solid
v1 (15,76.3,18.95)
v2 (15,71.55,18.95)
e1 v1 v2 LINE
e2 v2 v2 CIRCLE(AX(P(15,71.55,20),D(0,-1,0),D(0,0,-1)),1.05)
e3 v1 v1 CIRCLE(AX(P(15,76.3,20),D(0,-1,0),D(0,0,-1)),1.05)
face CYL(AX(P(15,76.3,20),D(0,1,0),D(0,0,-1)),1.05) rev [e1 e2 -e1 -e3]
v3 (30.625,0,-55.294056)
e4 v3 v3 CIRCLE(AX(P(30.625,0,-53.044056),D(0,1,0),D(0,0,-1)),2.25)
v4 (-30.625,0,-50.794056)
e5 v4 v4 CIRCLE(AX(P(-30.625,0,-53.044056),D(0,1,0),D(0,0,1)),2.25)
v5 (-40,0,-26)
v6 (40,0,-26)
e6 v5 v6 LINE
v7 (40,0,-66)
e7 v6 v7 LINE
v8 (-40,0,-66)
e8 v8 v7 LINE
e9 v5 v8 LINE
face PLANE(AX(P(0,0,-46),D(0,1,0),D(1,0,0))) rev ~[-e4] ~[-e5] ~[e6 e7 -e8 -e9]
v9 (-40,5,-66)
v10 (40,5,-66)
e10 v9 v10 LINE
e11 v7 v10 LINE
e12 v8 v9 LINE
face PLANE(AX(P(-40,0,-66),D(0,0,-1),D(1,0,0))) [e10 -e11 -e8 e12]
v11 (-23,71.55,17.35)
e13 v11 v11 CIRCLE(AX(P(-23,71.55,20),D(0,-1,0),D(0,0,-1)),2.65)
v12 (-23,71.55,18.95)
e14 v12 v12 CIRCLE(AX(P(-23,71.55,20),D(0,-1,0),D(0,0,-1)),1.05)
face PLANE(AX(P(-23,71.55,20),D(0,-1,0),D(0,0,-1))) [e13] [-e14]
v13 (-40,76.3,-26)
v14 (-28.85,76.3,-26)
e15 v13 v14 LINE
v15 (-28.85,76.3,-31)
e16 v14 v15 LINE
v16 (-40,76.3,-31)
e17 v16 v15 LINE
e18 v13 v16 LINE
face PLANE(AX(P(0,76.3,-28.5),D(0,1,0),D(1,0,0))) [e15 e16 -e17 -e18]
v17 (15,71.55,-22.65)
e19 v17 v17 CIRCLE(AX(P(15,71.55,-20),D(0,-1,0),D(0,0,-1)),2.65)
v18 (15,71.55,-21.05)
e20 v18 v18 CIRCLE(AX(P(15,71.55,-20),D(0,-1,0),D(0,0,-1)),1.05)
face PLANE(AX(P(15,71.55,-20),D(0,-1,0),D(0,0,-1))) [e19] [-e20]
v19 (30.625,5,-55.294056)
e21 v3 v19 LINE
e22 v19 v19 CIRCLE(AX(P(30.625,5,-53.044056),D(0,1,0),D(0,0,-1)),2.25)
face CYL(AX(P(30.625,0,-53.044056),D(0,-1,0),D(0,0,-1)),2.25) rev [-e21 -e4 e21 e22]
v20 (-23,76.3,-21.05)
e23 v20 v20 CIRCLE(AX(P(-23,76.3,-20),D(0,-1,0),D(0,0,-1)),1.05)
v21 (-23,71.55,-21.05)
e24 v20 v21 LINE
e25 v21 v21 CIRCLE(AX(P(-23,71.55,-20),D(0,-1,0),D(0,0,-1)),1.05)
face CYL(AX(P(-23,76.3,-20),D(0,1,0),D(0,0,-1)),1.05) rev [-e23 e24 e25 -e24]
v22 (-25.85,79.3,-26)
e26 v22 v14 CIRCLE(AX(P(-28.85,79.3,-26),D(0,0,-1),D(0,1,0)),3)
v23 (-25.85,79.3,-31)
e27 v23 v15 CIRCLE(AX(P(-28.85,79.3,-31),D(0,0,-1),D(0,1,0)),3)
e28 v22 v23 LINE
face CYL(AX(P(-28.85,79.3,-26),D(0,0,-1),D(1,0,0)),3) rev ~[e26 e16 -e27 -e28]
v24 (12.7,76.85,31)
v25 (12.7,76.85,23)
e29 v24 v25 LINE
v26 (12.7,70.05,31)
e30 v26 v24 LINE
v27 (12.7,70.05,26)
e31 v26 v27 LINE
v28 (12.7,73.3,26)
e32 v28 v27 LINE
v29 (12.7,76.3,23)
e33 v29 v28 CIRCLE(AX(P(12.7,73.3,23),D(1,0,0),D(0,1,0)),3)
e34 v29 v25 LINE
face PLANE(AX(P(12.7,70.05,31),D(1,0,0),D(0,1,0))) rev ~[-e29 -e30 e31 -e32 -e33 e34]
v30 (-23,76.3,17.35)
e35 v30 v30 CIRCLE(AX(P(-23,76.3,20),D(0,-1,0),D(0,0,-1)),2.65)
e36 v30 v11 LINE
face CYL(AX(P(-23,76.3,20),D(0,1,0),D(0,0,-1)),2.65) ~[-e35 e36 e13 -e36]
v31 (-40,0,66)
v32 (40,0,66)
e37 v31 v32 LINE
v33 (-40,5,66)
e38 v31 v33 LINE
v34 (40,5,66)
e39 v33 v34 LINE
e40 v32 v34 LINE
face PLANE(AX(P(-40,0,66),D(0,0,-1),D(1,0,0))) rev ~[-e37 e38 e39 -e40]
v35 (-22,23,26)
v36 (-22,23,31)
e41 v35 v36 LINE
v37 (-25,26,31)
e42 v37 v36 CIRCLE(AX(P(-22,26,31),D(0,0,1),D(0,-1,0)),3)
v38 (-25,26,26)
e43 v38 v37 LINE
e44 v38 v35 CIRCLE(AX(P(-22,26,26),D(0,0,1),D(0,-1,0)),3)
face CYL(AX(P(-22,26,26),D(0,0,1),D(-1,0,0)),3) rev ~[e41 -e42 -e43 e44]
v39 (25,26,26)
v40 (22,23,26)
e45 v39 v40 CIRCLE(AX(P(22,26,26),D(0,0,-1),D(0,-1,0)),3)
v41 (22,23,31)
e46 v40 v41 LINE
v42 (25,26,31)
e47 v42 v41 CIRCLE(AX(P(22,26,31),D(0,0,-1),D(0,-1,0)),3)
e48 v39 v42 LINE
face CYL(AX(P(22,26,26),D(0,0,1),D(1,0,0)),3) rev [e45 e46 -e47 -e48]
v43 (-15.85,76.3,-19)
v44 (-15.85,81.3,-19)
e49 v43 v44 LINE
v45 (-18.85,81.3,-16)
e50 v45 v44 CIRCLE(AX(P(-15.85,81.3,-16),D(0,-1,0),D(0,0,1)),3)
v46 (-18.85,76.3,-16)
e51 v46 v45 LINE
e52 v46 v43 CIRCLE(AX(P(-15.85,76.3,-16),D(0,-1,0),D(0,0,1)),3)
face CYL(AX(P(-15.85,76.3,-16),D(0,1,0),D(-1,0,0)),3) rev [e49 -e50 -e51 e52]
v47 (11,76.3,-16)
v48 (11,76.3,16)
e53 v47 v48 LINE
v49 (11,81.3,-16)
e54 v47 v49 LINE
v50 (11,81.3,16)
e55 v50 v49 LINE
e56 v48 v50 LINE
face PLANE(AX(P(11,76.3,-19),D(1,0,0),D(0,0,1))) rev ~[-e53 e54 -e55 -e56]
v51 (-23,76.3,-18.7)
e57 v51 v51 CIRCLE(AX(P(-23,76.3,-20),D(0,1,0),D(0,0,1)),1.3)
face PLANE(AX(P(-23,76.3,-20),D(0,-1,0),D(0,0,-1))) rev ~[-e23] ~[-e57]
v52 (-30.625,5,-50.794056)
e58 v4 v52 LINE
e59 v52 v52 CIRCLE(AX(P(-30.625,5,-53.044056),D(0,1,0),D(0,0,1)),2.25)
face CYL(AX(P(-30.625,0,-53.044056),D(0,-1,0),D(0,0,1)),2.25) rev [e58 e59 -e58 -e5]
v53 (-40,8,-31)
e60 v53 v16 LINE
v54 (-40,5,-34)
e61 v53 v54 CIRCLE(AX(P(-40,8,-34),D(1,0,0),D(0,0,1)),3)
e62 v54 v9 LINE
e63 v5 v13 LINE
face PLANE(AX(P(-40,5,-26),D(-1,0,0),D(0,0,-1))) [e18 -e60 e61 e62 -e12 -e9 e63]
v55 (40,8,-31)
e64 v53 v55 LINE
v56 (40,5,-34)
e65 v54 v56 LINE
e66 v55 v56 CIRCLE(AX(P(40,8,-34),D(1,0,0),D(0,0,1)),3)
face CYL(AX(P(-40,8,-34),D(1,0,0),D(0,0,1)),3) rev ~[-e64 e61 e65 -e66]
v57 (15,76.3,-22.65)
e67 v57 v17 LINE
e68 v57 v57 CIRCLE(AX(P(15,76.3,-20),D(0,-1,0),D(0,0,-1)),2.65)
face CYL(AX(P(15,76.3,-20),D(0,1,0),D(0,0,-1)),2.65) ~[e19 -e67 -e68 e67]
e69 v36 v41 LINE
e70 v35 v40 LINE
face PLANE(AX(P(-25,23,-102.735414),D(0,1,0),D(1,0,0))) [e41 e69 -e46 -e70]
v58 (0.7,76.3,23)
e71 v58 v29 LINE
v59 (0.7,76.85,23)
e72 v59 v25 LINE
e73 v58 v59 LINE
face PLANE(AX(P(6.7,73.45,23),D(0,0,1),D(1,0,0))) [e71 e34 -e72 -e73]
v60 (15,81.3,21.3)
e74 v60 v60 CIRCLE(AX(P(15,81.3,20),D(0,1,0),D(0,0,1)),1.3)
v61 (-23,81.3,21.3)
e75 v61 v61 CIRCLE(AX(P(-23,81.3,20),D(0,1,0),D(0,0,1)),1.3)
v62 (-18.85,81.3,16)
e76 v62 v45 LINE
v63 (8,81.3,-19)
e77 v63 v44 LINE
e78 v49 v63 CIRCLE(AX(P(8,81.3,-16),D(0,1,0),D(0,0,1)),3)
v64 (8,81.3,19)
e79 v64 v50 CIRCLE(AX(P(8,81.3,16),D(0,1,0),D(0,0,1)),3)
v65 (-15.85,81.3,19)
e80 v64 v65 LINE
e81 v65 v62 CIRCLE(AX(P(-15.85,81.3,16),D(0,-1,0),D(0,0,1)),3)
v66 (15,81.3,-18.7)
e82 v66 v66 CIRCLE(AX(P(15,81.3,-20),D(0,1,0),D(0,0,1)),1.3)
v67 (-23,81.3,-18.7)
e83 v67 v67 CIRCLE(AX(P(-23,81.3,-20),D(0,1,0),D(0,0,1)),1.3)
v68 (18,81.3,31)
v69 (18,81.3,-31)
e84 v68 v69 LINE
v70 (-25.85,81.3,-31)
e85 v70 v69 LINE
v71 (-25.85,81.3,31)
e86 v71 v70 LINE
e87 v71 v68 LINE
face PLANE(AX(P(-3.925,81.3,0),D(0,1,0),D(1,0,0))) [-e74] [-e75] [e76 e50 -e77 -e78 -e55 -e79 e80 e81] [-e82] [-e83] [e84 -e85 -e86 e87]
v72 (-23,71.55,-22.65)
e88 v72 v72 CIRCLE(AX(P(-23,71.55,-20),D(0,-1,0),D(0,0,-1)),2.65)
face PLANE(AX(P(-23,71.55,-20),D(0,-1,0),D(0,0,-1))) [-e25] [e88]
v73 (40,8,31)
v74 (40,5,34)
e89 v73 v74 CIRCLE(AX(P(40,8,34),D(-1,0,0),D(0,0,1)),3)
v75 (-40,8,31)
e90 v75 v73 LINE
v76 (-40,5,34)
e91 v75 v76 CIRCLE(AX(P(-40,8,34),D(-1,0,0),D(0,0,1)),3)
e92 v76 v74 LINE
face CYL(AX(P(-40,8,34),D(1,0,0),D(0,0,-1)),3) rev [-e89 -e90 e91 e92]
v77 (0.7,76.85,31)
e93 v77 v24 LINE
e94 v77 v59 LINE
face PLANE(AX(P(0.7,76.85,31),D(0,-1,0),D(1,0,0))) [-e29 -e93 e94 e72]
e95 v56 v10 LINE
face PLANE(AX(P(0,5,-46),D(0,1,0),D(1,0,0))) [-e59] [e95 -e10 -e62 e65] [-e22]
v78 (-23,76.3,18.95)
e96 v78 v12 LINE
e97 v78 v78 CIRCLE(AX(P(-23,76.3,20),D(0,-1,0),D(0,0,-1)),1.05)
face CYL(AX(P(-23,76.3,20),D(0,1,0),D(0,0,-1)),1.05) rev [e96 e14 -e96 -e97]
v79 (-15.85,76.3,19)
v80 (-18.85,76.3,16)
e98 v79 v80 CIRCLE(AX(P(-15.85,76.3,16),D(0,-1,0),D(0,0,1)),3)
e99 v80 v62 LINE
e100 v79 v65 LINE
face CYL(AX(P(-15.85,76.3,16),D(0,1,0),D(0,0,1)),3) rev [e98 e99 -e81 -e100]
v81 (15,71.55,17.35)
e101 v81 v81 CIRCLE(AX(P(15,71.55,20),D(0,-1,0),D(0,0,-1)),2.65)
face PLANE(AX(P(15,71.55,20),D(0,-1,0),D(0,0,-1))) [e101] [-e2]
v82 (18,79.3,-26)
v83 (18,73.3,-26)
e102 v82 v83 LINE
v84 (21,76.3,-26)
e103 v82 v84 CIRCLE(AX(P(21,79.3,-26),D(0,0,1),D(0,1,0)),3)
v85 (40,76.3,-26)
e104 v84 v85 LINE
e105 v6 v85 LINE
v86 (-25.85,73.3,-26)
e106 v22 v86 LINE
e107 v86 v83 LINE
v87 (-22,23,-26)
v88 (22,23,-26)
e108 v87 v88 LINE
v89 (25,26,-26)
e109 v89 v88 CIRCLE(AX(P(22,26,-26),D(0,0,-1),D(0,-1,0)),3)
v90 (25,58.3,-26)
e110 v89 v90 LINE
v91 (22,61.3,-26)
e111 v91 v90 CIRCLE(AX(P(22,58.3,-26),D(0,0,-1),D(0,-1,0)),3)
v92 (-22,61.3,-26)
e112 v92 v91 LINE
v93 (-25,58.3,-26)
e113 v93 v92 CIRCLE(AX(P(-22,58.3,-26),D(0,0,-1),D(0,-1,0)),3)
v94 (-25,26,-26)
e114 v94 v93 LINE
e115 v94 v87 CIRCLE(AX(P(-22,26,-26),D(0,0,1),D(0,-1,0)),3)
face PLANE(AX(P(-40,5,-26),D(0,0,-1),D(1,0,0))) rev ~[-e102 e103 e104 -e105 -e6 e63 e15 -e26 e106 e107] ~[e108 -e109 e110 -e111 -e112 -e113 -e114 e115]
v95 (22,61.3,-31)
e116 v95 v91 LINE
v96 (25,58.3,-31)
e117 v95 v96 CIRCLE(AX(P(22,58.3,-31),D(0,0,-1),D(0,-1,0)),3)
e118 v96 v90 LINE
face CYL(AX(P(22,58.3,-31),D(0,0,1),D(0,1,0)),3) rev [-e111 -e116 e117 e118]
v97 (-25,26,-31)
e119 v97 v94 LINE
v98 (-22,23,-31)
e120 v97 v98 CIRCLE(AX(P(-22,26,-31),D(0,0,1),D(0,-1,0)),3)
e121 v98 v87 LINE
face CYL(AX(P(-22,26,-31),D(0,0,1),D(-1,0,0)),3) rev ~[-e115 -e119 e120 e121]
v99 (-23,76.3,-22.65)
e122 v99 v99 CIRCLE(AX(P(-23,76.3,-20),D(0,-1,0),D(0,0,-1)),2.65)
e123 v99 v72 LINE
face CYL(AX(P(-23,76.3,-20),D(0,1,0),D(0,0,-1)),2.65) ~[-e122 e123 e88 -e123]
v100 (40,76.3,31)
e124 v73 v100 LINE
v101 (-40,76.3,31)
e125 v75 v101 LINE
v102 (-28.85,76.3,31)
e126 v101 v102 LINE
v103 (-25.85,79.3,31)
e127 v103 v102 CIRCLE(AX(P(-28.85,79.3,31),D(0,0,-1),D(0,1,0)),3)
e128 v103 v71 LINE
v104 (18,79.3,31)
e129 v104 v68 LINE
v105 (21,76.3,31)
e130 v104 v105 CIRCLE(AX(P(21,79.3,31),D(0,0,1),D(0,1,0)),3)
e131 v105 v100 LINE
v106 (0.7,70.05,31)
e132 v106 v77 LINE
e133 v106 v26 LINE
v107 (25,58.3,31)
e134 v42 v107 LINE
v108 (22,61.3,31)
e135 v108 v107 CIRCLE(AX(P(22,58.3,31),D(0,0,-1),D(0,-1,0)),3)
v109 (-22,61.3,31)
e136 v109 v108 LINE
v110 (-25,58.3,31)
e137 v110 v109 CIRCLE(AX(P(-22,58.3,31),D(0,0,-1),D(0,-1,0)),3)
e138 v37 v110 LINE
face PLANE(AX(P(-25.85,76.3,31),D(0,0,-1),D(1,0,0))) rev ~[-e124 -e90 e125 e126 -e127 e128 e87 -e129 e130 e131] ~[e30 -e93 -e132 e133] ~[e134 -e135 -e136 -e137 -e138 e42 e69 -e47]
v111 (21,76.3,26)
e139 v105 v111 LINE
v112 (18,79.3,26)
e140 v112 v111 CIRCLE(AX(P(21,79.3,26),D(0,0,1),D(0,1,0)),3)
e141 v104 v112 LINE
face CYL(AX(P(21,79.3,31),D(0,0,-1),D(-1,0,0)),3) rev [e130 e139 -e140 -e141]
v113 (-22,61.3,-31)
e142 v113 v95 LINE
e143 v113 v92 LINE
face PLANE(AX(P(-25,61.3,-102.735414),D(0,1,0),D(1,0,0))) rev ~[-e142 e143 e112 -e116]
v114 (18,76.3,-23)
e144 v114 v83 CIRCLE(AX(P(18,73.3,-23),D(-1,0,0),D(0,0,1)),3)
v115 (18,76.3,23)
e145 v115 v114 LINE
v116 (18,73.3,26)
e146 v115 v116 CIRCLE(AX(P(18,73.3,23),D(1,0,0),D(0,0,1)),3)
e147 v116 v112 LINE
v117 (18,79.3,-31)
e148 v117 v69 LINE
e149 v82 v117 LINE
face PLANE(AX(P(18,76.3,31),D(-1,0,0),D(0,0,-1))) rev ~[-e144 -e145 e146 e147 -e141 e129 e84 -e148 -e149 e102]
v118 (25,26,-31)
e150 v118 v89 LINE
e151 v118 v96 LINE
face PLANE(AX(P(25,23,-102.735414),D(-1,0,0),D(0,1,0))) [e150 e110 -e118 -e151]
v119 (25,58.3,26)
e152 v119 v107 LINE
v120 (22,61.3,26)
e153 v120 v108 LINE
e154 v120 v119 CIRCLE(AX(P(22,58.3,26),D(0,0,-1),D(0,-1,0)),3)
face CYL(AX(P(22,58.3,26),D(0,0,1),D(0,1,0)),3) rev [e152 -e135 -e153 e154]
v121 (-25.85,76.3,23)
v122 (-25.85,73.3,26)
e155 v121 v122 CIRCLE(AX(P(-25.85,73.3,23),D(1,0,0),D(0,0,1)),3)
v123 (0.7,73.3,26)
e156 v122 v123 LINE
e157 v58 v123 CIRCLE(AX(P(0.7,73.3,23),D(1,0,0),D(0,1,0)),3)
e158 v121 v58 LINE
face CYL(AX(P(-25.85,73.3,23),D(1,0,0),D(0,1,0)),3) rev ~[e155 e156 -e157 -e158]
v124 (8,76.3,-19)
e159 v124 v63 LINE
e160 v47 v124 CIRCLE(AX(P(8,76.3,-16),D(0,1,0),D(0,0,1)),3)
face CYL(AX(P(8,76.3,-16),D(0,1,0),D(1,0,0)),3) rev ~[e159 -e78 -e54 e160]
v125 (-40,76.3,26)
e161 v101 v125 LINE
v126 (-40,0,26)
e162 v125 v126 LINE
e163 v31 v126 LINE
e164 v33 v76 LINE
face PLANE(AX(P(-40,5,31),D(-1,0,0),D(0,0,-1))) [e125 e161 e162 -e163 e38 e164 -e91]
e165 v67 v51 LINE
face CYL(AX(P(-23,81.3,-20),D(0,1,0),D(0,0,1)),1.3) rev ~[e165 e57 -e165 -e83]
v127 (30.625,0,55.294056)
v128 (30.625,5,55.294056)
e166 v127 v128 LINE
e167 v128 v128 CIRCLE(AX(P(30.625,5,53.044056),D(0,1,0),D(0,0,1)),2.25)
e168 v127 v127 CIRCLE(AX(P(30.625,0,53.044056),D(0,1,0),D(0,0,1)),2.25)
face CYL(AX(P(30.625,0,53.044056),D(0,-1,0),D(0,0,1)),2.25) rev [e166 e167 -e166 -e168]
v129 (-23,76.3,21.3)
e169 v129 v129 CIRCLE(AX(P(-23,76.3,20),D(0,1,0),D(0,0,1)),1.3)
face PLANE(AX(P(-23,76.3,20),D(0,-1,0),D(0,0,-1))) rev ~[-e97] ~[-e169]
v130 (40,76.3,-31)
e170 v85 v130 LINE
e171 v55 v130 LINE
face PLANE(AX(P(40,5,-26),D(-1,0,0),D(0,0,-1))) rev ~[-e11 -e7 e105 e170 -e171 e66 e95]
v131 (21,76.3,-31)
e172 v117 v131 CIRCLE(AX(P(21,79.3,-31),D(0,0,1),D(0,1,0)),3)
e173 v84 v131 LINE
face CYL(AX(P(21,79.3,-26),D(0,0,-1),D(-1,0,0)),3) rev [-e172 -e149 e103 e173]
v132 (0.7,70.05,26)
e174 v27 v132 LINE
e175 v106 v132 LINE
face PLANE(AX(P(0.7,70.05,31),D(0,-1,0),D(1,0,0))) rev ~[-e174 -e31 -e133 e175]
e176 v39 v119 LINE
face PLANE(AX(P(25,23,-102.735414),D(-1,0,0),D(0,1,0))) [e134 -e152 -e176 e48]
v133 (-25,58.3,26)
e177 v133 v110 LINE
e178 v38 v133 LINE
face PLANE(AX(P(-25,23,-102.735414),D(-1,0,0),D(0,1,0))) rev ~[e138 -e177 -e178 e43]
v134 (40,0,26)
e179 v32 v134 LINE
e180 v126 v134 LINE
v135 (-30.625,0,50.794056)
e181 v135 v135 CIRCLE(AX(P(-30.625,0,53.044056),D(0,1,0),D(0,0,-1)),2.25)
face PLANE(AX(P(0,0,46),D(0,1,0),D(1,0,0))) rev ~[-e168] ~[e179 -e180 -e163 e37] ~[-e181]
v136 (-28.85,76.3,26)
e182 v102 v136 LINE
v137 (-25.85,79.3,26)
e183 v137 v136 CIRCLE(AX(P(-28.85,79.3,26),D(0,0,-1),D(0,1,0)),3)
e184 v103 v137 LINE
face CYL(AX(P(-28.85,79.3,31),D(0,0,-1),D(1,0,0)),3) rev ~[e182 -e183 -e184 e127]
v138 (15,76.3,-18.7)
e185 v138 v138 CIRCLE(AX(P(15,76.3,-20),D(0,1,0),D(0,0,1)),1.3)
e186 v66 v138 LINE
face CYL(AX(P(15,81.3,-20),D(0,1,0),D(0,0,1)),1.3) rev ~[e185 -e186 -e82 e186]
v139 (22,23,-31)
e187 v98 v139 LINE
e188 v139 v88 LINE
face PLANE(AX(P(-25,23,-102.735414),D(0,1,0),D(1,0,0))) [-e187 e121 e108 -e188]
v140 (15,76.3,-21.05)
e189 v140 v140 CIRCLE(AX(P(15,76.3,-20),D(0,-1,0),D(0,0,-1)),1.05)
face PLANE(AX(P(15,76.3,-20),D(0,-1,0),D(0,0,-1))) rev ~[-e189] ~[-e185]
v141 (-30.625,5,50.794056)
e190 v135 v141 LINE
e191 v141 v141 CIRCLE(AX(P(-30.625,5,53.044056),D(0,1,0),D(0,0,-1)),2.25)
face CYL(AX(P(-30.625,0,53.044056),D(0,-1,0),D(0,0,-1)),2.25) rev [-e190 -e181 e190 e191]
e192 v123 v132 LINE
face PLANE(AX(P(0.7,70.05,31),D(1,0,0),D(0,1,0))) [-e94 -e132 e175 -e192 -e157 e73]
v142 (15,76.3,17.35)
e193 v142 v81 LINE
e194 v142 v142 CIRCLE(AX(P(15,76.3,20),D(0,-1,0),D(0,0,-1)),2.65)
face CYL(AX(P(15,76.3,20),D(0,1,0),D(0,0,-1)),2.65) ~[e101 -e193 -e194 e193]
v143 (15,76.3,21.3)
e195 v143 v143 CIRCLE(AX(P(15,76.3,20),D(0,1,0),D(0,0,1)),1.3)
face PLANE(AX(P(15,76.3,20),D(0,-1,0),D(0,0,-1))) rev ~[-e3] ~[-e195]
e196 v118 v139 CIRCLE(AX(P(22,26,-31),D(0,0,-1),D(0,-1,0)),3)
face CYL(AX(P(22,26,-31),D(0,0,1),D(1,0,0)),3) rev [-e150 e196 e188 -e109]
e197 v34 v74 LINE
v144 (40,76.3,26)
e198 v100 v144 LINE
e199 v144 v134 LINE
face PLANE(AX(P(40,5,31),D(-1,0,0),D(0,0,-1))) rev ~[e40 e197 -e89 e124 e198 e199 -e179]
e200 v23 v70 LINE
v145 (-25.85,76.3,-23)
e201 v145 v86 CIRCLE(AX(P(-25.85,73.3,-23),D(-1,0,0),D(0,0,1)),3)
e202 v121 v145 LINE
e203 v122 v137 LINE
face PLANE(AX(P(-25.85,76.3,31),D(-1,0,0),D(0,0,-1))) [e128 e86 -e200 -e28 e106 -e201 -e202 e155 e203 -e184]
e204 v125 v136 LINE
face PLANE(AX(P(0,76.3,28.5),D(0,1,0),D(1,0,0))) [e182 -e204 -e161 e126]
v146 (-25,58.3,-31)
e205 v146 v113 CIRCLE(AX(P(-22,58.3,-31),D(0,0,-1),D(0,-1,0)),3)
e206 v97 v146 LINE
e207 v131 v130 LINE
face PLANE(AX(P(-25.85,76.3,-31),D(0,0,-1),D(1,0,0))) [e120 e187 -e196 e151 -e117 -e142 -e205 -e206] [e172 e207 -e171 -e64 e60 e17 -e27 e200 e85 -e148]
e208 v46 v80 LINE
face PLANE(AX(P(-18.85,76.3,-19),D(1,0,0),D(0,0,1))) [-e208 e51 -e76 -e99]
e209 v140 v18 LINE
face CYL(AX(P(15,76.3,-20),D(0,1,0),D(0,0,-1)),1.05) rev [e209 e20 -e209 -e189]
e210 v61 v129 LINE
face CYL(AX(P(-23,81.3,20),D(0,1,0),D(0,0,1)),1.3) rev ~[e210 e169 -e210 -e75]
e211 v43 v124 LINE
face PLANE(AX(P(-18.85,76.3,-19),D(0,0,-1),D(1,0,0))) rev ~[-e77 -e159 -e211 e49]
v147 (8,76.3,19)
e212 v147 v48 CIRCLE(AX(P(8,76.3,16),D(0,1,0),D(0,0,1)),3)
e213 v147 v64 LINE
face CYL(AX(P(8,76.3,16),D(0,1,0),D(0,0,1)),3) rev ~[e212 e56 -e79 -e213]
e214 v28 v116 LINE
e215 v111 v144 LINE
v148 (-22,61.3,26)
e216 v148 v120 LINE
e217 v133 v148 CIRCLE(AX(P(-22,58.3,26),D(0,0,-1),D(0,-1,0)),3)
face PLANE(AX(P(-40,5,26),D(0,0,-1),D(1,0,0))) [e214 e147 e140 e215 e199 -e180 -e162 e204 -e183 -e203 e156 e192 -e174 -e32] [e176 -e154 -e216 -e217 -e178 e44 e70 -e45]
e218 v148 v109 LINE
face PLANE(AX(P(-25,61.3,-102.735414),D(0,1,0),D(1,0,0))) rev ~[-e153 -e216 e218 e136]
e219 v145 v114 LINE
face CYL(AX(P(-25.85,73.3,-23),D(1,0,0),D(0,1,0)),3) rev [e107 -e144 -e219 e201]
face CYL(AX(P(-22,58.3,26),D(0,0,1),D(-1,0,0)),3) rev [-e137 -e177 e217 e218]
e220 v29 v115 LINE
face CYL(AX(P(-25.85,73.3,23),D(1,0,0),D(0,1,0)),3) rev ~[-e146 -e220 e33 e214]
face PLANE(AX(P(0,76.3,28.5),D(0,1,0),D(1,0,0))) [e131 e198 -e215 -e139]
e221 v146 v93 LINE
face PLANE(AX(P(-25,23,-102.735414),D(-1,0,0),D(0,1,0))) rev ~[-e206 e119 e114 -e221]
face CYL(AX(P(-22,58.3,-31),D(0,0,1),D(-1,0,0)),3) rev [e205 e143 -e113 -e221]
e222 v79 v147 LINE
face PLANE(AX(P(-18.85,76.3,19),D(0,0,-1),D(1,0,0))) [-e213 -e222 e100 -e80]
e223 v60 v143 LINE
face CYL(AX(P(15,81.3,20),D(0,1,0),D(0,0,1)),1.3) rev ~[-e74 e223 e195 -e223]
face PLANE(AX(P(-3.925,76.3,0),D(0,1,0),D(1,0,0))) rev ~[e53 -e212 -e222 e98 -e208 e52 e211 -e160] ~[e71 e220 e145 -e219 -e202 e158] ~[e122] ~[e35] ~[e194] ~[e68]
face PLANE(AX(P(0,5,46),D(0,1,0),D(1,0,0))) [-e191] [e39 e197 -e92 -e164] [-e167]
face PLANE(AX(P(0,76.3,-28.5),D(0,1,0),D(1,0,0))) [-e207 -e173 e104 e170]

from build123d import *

# Parameters (mm, degrees)
SKETCH1_W               = 80
SKETCH1_H               = 40
SKETCH1_R               = 2.25
BOSS_EXTRUDE1_DEPTH     = 5
BOSS_EXTRUDE1_2_DEPTH   = 5
SKETCH2_W               = 80
SKETCH2_H               = 5
BOSS_EXTRUDE2_DEPTH     = 71.3
SKETCH3_W               = 43.85
SKETCH3_H               = 62
BOSS_EXTRUDE3_DEPTH     = 5
SKETCH5_W               = 29.85
SKETCH5_H               = 38
CUT_EXTRUDE2_DEPTH      = 10
CUT_EXTRUDE1_REACH      = 114.097
SKETCH4_R               = 1.3
FILLET1_R               = 3
FILLET2_R               = 3
CUT_EXTRUDE3_DEPTH      = 133.735413511
CUT_EXTRUDE3_DEPTH_BACK = 133.735413511
SKETCH6_W               = 50
SKETCH6_H               = 38.3
FILLET3_R               = 3
SKETCH9_R               = 2.65
SKETCH9_R_2             = 1.05
BOSS_EXTRUDE5_DEPTH     = 4.75
SKETCH10_W              = 12
SKETCH10_H              = 6.8
CUT_EXTRUDE4_DEPTH      = 8


with BuildPart() as part:
    # Sketch1 → Boss-Extrude1 (new body)
    with BuildSketch(Plane(origin=(0, 0, 0), x_dir=(1, 0, 0), z_dir=(0, 1, 0))):
        with Locations((0, 46)):
            Rectangle(SKETCH1_W, SKETCH1_H)
        with Locations(Location((-30.625, 53.044055982, 0), (0, 0, 270))):
            Circle(SKETCH1_R, mode=Mode.SUBTRACT)
        with Locations(Location((30.625, 53.044055982, 0), (0, 0, 90))):
            Circle(SKETCH1_R, mode=Mode.SUBTRACT)
    extrude(amount=BOSS_EXTRUDE1_DEPTH)



with BuildPart() as body_2:
    # Sketch1 → Boss-Extrude1 2 (new body)
    with BuildSketch(Plane(origin=(0, 0, 0), x_dir=(1, 0, 0), z_dir=(0, 1, 0))):
        with Locations((0, -46)):
            Rectangle(SKETCH1_W, SKETCH1_H)
        with Locations(Location((30.625, -53.044055982, 0), (0, 0, 270))):
            Circle(SKETCH1_R, mode=Mode.SUBTRACT)
        with Locations(Location((-30.625, -53.044055982, 0), (0, 0, 90))):
            Circle(SKETCH1_R, mode=Mode.SUBTRACT)
    extrude(amount=BOSS_EXTRUDE1_2_DEPTH)


with BuildPart() as part_1:
    add(part.part)

    add(body_2.part)  # Boss-Extrude2 merges body 2
    # Sketch2 → Boss-Extrude2 (add)
    with BuildSketch(Plane(origin=(0, 5, 0), x_dir=(1, 0, 0), z_dir=(0, 1, 0))):
        with Locations((0, 28.5)):
            Rectangle(SKETCH2_W, SKETCH2_H)
        with Locations((0, -28.5)):
            Rectangle(SKETCH2_W, SKETCH2_H)
    extrude(amount=BOSS_EXTRUDE2_DEPTH)

    # Sketch3 → Boss-Extrude3 (add)
    with BuildSketch(Plane(origin=(0, 76.3, 0), x_dir=(1, 0, 0), z_dir=(0, 1, 0))):
        with Locations((-3.925, 0)):
            Rectangle(SKETCH3_W, SKETCH3_H)
    extrude(amount=BOSS_EXTRUDE3_DEPTH)

    # Sketch5 → Cut-Extrude2 (cut)
    with BuildSketch(Plane.XZ.offset(-76.3)):
        with Locations((-3.925, 0)):
            Rectangle(SKETCH5_W, SKETCH5_H)
    extrude(amount=-CUT_EXTRUDE2_DEPTH, mode=Mode.SUBTRACT)

    # Sketch4 → Cut-Extrude1 (cut, up to next)
    with BuildSketch(Plane(origin=(0, 81.3, 0), x_dir=(1, 0, 0), z_dir=(0, 1, 0)), mode=Mode.PRIVATE) as cut_extrude1_sk1:
        with Locations(Location((-23, 20, 0), (0, 0, 270))):
            Circle(SKETCH4_R)
    cut_extrude1_tool1 = extrude(cut_extrude1_sk1.sketch, amount=-CUT_EXTRUDE1_REACH, mode=Mode.PRIVATE) & part_1.part
    # Sketch4 → Cut-Extrude1 (cut, up to next)
    with BuildSketch(Plane(origin=(0, 81.3, 0), x_dir=(1, 0, 0), z_dir=(0, 1, 0)), mode=Mode.PRIVATE) as cut_extrude1_sk2:
        with Locations(Location((15, 20, 0), (0, 0, 270))):
            Circle(SKETCH4_R)
    cut_extrude1_tool2 = extrude(cut_extrude1_sk2.sketch, amount=-CUT_EXTRUDE1_REACH, mode=Mode.PRIVATE) & part_1.part
    # Sketch4 → Cut-Extrude1 (cut, up to next)
    with BuildSketch(Plane(origin=(0, 81.3, 0), x_dir=(1, 0, 0), z_dir=(0, 1, 0)), mode=Mode.PRIVATE) as cut_extrude1_sk3:
        with Locations(Location((15, -20, 0), (0, 0, 270))):
            Circle(SKETCH4_R)
    cut_extrude1_tool3 = extrude(cut_extrude1_sk3.sketch, amount=-CUT_EXTRUDE1_REACH, mode=Mode.PRIVATE) & part_1.part
    # Sketch4 → Cut-Extrude1 (cut, up to next)
    with BuildSketch(Plane(origin=(0, 81.3, 0), x_dir=(1, 0, 0), z_dir=(0, 1, 0)), mode=Mode.PRIVATE) as cut_extrude1_sk4:
        with Locations(Location((-23, -20, 0), (0, 0, 270))):
            Circle(SKETCH4_R)
    cut_extrude1_tool4 = extrude(cut_extrude1_sk4.sketch, amount=-CUT_EXTRUDE1_REACH, mode=Mode.PRIVATE) & part_1.part
    add(cut_extrude1_tool1.solids().sort_by_distance((-23, 81.3, -20))[0], mode=Mode.SUBTRACT)
    add(cut_extrude1_tool2.solids().sort_by_distance((15, 81.3, -20))[0], mode=Mode.SUBTRACT)
    add(cut_extrude1_tool3.solids().sort_by_distance((15, 81.3, 20))[0], mode=Mode.SUBTRACT)
    add(cut_extrude1_tool4.solids().sort_by_distance((-23, 81.3, 20))[0], mode=Mode.SUBTRACT)

    # Fillet1
    fillet1_edges = [part_1.edges().sort_by_distance(p)[0] for p in [
        (0, 5, -31),
        (-3.925, 76.3, -26),
        (-3.925, 76.3, 26),
        (0, 5, 31),
    ]]
    fillet(fillet1_edges, radius=FILLET1_R)

    # Fillet2
    fillet2_edges = [part_1.edges().sort_by_distance(p)[0] for p in [
        (18, 76.3, -28.5),
        (-25.85, 76.3, -28.5),
        (-25.85, 76.3, 28.5),
        (18, 76.3, 28.5),
    ]]
    fillet(fillet2_edges, radius=FILLET2_R)

    # Sketch6 → Cut-Extrude3 (cut, two sides: drawn at the far end of the back side and taken through both)
    with BuildSketch(Plane.XY.offset(31).offset(-CUT_EXTRUDE3_DEPTH_BACK)):
        with Locations((0, 42.15)):
            Rectangle(SKETCH6_W, SKETCH6_H)
    extrude(amount=CUT_EXTRUDE3_DEPTH + CUT_EXTRUDE3_DEPTH_BACK, mode=Mode.SUBTRACT)

    # Fillet3
    fillet3_edges = [part_1.edges().sort_by_distance(p)[0] for p in [
        (-25, 61.3, -28.5),
        (-25, 61.3, 28.5),
        (-25, 23, -28.5),
        (-25, 23, 28.5),
        (25, 23, -28.5),
        (25, 23, 28.5),
        (25, 61.3, -28.5),
        (25, 61.3, 28.5),
        (-18.85, 78.8, -19),
        (-18.85, 78.8, 19),
        (11, 78.8, 19),
        (11, 78.8, -19),
    ]]
    fillet(fillet3_edges, radius=FILLET3_R)

    # Sketch9 → Boss-Extrude5 (add)
    # profile 1 of 4: a face of its own
    with BuildSketch(Plane.XZ.offset(-76.3)):
        with Locations(Location((-23, 20, 0), (0, 0, 270))):
            Circle(SKETCH9_R)
        with Locations(Location((-23, 20, 0), (0, 0, 270))):
            Circle(SKETCH9_R_2, mode=Mode.SUBTRACT)
    # profile 2 of 4: a face of its own
    with BuildSketch(Plane.XZ.offset(-76.3)):
        with Locations(Location((-23, -20, 0), (0, 0, 270))):
            Circle(SKETCH9_R)
        with Locations(Location((-23, -20, 0), (0, 0, 270))):
            Circle(SKETCH9_R_2, mode=Mode.SUBTRACT)
    # profile 3 of 4: a face of its own
    with BuildSketch(Plane.XZ.offset(-76.3)):
        with Locations(Location((15, 20, 0), (0, 0, 270))):
            Circle(SKETCH9_R)
        with Locations(Location((15, 20, 0), (0, 0, 270))):
            Circle(SKETCH9_R_2, mode=Mode.SUBTRACT)
    # profile 4 of 4: a face of its own
    with BuildSketch(Plane.XZ.offset(-76.3)):
        with Locations(Location((15, -20, 0), (0, 0, 270))):
            Circle(SKETCH9_R)
        with Locations(Location((15, -20, 0), (0, 0, 270))):
            Circle(SKETCH9_R_2, mode=Mode.SUBTRACT)
    extrude(amount=BOSS_EXTRUDE5_DEPTH)

    # Sketch10 → Cut-Extrude4 (cut)
    with BuildSketch(Plane.XY.offset(31)):
        with Locations((6.7, 73.45)):
            Rectangle(SKETCH10_W, SKETCH10_H)
    extrude(amount=-CUT_EXTRUDE4_DEPTH, mode=Mode.SUBTRACT)


solid = part_1.part
